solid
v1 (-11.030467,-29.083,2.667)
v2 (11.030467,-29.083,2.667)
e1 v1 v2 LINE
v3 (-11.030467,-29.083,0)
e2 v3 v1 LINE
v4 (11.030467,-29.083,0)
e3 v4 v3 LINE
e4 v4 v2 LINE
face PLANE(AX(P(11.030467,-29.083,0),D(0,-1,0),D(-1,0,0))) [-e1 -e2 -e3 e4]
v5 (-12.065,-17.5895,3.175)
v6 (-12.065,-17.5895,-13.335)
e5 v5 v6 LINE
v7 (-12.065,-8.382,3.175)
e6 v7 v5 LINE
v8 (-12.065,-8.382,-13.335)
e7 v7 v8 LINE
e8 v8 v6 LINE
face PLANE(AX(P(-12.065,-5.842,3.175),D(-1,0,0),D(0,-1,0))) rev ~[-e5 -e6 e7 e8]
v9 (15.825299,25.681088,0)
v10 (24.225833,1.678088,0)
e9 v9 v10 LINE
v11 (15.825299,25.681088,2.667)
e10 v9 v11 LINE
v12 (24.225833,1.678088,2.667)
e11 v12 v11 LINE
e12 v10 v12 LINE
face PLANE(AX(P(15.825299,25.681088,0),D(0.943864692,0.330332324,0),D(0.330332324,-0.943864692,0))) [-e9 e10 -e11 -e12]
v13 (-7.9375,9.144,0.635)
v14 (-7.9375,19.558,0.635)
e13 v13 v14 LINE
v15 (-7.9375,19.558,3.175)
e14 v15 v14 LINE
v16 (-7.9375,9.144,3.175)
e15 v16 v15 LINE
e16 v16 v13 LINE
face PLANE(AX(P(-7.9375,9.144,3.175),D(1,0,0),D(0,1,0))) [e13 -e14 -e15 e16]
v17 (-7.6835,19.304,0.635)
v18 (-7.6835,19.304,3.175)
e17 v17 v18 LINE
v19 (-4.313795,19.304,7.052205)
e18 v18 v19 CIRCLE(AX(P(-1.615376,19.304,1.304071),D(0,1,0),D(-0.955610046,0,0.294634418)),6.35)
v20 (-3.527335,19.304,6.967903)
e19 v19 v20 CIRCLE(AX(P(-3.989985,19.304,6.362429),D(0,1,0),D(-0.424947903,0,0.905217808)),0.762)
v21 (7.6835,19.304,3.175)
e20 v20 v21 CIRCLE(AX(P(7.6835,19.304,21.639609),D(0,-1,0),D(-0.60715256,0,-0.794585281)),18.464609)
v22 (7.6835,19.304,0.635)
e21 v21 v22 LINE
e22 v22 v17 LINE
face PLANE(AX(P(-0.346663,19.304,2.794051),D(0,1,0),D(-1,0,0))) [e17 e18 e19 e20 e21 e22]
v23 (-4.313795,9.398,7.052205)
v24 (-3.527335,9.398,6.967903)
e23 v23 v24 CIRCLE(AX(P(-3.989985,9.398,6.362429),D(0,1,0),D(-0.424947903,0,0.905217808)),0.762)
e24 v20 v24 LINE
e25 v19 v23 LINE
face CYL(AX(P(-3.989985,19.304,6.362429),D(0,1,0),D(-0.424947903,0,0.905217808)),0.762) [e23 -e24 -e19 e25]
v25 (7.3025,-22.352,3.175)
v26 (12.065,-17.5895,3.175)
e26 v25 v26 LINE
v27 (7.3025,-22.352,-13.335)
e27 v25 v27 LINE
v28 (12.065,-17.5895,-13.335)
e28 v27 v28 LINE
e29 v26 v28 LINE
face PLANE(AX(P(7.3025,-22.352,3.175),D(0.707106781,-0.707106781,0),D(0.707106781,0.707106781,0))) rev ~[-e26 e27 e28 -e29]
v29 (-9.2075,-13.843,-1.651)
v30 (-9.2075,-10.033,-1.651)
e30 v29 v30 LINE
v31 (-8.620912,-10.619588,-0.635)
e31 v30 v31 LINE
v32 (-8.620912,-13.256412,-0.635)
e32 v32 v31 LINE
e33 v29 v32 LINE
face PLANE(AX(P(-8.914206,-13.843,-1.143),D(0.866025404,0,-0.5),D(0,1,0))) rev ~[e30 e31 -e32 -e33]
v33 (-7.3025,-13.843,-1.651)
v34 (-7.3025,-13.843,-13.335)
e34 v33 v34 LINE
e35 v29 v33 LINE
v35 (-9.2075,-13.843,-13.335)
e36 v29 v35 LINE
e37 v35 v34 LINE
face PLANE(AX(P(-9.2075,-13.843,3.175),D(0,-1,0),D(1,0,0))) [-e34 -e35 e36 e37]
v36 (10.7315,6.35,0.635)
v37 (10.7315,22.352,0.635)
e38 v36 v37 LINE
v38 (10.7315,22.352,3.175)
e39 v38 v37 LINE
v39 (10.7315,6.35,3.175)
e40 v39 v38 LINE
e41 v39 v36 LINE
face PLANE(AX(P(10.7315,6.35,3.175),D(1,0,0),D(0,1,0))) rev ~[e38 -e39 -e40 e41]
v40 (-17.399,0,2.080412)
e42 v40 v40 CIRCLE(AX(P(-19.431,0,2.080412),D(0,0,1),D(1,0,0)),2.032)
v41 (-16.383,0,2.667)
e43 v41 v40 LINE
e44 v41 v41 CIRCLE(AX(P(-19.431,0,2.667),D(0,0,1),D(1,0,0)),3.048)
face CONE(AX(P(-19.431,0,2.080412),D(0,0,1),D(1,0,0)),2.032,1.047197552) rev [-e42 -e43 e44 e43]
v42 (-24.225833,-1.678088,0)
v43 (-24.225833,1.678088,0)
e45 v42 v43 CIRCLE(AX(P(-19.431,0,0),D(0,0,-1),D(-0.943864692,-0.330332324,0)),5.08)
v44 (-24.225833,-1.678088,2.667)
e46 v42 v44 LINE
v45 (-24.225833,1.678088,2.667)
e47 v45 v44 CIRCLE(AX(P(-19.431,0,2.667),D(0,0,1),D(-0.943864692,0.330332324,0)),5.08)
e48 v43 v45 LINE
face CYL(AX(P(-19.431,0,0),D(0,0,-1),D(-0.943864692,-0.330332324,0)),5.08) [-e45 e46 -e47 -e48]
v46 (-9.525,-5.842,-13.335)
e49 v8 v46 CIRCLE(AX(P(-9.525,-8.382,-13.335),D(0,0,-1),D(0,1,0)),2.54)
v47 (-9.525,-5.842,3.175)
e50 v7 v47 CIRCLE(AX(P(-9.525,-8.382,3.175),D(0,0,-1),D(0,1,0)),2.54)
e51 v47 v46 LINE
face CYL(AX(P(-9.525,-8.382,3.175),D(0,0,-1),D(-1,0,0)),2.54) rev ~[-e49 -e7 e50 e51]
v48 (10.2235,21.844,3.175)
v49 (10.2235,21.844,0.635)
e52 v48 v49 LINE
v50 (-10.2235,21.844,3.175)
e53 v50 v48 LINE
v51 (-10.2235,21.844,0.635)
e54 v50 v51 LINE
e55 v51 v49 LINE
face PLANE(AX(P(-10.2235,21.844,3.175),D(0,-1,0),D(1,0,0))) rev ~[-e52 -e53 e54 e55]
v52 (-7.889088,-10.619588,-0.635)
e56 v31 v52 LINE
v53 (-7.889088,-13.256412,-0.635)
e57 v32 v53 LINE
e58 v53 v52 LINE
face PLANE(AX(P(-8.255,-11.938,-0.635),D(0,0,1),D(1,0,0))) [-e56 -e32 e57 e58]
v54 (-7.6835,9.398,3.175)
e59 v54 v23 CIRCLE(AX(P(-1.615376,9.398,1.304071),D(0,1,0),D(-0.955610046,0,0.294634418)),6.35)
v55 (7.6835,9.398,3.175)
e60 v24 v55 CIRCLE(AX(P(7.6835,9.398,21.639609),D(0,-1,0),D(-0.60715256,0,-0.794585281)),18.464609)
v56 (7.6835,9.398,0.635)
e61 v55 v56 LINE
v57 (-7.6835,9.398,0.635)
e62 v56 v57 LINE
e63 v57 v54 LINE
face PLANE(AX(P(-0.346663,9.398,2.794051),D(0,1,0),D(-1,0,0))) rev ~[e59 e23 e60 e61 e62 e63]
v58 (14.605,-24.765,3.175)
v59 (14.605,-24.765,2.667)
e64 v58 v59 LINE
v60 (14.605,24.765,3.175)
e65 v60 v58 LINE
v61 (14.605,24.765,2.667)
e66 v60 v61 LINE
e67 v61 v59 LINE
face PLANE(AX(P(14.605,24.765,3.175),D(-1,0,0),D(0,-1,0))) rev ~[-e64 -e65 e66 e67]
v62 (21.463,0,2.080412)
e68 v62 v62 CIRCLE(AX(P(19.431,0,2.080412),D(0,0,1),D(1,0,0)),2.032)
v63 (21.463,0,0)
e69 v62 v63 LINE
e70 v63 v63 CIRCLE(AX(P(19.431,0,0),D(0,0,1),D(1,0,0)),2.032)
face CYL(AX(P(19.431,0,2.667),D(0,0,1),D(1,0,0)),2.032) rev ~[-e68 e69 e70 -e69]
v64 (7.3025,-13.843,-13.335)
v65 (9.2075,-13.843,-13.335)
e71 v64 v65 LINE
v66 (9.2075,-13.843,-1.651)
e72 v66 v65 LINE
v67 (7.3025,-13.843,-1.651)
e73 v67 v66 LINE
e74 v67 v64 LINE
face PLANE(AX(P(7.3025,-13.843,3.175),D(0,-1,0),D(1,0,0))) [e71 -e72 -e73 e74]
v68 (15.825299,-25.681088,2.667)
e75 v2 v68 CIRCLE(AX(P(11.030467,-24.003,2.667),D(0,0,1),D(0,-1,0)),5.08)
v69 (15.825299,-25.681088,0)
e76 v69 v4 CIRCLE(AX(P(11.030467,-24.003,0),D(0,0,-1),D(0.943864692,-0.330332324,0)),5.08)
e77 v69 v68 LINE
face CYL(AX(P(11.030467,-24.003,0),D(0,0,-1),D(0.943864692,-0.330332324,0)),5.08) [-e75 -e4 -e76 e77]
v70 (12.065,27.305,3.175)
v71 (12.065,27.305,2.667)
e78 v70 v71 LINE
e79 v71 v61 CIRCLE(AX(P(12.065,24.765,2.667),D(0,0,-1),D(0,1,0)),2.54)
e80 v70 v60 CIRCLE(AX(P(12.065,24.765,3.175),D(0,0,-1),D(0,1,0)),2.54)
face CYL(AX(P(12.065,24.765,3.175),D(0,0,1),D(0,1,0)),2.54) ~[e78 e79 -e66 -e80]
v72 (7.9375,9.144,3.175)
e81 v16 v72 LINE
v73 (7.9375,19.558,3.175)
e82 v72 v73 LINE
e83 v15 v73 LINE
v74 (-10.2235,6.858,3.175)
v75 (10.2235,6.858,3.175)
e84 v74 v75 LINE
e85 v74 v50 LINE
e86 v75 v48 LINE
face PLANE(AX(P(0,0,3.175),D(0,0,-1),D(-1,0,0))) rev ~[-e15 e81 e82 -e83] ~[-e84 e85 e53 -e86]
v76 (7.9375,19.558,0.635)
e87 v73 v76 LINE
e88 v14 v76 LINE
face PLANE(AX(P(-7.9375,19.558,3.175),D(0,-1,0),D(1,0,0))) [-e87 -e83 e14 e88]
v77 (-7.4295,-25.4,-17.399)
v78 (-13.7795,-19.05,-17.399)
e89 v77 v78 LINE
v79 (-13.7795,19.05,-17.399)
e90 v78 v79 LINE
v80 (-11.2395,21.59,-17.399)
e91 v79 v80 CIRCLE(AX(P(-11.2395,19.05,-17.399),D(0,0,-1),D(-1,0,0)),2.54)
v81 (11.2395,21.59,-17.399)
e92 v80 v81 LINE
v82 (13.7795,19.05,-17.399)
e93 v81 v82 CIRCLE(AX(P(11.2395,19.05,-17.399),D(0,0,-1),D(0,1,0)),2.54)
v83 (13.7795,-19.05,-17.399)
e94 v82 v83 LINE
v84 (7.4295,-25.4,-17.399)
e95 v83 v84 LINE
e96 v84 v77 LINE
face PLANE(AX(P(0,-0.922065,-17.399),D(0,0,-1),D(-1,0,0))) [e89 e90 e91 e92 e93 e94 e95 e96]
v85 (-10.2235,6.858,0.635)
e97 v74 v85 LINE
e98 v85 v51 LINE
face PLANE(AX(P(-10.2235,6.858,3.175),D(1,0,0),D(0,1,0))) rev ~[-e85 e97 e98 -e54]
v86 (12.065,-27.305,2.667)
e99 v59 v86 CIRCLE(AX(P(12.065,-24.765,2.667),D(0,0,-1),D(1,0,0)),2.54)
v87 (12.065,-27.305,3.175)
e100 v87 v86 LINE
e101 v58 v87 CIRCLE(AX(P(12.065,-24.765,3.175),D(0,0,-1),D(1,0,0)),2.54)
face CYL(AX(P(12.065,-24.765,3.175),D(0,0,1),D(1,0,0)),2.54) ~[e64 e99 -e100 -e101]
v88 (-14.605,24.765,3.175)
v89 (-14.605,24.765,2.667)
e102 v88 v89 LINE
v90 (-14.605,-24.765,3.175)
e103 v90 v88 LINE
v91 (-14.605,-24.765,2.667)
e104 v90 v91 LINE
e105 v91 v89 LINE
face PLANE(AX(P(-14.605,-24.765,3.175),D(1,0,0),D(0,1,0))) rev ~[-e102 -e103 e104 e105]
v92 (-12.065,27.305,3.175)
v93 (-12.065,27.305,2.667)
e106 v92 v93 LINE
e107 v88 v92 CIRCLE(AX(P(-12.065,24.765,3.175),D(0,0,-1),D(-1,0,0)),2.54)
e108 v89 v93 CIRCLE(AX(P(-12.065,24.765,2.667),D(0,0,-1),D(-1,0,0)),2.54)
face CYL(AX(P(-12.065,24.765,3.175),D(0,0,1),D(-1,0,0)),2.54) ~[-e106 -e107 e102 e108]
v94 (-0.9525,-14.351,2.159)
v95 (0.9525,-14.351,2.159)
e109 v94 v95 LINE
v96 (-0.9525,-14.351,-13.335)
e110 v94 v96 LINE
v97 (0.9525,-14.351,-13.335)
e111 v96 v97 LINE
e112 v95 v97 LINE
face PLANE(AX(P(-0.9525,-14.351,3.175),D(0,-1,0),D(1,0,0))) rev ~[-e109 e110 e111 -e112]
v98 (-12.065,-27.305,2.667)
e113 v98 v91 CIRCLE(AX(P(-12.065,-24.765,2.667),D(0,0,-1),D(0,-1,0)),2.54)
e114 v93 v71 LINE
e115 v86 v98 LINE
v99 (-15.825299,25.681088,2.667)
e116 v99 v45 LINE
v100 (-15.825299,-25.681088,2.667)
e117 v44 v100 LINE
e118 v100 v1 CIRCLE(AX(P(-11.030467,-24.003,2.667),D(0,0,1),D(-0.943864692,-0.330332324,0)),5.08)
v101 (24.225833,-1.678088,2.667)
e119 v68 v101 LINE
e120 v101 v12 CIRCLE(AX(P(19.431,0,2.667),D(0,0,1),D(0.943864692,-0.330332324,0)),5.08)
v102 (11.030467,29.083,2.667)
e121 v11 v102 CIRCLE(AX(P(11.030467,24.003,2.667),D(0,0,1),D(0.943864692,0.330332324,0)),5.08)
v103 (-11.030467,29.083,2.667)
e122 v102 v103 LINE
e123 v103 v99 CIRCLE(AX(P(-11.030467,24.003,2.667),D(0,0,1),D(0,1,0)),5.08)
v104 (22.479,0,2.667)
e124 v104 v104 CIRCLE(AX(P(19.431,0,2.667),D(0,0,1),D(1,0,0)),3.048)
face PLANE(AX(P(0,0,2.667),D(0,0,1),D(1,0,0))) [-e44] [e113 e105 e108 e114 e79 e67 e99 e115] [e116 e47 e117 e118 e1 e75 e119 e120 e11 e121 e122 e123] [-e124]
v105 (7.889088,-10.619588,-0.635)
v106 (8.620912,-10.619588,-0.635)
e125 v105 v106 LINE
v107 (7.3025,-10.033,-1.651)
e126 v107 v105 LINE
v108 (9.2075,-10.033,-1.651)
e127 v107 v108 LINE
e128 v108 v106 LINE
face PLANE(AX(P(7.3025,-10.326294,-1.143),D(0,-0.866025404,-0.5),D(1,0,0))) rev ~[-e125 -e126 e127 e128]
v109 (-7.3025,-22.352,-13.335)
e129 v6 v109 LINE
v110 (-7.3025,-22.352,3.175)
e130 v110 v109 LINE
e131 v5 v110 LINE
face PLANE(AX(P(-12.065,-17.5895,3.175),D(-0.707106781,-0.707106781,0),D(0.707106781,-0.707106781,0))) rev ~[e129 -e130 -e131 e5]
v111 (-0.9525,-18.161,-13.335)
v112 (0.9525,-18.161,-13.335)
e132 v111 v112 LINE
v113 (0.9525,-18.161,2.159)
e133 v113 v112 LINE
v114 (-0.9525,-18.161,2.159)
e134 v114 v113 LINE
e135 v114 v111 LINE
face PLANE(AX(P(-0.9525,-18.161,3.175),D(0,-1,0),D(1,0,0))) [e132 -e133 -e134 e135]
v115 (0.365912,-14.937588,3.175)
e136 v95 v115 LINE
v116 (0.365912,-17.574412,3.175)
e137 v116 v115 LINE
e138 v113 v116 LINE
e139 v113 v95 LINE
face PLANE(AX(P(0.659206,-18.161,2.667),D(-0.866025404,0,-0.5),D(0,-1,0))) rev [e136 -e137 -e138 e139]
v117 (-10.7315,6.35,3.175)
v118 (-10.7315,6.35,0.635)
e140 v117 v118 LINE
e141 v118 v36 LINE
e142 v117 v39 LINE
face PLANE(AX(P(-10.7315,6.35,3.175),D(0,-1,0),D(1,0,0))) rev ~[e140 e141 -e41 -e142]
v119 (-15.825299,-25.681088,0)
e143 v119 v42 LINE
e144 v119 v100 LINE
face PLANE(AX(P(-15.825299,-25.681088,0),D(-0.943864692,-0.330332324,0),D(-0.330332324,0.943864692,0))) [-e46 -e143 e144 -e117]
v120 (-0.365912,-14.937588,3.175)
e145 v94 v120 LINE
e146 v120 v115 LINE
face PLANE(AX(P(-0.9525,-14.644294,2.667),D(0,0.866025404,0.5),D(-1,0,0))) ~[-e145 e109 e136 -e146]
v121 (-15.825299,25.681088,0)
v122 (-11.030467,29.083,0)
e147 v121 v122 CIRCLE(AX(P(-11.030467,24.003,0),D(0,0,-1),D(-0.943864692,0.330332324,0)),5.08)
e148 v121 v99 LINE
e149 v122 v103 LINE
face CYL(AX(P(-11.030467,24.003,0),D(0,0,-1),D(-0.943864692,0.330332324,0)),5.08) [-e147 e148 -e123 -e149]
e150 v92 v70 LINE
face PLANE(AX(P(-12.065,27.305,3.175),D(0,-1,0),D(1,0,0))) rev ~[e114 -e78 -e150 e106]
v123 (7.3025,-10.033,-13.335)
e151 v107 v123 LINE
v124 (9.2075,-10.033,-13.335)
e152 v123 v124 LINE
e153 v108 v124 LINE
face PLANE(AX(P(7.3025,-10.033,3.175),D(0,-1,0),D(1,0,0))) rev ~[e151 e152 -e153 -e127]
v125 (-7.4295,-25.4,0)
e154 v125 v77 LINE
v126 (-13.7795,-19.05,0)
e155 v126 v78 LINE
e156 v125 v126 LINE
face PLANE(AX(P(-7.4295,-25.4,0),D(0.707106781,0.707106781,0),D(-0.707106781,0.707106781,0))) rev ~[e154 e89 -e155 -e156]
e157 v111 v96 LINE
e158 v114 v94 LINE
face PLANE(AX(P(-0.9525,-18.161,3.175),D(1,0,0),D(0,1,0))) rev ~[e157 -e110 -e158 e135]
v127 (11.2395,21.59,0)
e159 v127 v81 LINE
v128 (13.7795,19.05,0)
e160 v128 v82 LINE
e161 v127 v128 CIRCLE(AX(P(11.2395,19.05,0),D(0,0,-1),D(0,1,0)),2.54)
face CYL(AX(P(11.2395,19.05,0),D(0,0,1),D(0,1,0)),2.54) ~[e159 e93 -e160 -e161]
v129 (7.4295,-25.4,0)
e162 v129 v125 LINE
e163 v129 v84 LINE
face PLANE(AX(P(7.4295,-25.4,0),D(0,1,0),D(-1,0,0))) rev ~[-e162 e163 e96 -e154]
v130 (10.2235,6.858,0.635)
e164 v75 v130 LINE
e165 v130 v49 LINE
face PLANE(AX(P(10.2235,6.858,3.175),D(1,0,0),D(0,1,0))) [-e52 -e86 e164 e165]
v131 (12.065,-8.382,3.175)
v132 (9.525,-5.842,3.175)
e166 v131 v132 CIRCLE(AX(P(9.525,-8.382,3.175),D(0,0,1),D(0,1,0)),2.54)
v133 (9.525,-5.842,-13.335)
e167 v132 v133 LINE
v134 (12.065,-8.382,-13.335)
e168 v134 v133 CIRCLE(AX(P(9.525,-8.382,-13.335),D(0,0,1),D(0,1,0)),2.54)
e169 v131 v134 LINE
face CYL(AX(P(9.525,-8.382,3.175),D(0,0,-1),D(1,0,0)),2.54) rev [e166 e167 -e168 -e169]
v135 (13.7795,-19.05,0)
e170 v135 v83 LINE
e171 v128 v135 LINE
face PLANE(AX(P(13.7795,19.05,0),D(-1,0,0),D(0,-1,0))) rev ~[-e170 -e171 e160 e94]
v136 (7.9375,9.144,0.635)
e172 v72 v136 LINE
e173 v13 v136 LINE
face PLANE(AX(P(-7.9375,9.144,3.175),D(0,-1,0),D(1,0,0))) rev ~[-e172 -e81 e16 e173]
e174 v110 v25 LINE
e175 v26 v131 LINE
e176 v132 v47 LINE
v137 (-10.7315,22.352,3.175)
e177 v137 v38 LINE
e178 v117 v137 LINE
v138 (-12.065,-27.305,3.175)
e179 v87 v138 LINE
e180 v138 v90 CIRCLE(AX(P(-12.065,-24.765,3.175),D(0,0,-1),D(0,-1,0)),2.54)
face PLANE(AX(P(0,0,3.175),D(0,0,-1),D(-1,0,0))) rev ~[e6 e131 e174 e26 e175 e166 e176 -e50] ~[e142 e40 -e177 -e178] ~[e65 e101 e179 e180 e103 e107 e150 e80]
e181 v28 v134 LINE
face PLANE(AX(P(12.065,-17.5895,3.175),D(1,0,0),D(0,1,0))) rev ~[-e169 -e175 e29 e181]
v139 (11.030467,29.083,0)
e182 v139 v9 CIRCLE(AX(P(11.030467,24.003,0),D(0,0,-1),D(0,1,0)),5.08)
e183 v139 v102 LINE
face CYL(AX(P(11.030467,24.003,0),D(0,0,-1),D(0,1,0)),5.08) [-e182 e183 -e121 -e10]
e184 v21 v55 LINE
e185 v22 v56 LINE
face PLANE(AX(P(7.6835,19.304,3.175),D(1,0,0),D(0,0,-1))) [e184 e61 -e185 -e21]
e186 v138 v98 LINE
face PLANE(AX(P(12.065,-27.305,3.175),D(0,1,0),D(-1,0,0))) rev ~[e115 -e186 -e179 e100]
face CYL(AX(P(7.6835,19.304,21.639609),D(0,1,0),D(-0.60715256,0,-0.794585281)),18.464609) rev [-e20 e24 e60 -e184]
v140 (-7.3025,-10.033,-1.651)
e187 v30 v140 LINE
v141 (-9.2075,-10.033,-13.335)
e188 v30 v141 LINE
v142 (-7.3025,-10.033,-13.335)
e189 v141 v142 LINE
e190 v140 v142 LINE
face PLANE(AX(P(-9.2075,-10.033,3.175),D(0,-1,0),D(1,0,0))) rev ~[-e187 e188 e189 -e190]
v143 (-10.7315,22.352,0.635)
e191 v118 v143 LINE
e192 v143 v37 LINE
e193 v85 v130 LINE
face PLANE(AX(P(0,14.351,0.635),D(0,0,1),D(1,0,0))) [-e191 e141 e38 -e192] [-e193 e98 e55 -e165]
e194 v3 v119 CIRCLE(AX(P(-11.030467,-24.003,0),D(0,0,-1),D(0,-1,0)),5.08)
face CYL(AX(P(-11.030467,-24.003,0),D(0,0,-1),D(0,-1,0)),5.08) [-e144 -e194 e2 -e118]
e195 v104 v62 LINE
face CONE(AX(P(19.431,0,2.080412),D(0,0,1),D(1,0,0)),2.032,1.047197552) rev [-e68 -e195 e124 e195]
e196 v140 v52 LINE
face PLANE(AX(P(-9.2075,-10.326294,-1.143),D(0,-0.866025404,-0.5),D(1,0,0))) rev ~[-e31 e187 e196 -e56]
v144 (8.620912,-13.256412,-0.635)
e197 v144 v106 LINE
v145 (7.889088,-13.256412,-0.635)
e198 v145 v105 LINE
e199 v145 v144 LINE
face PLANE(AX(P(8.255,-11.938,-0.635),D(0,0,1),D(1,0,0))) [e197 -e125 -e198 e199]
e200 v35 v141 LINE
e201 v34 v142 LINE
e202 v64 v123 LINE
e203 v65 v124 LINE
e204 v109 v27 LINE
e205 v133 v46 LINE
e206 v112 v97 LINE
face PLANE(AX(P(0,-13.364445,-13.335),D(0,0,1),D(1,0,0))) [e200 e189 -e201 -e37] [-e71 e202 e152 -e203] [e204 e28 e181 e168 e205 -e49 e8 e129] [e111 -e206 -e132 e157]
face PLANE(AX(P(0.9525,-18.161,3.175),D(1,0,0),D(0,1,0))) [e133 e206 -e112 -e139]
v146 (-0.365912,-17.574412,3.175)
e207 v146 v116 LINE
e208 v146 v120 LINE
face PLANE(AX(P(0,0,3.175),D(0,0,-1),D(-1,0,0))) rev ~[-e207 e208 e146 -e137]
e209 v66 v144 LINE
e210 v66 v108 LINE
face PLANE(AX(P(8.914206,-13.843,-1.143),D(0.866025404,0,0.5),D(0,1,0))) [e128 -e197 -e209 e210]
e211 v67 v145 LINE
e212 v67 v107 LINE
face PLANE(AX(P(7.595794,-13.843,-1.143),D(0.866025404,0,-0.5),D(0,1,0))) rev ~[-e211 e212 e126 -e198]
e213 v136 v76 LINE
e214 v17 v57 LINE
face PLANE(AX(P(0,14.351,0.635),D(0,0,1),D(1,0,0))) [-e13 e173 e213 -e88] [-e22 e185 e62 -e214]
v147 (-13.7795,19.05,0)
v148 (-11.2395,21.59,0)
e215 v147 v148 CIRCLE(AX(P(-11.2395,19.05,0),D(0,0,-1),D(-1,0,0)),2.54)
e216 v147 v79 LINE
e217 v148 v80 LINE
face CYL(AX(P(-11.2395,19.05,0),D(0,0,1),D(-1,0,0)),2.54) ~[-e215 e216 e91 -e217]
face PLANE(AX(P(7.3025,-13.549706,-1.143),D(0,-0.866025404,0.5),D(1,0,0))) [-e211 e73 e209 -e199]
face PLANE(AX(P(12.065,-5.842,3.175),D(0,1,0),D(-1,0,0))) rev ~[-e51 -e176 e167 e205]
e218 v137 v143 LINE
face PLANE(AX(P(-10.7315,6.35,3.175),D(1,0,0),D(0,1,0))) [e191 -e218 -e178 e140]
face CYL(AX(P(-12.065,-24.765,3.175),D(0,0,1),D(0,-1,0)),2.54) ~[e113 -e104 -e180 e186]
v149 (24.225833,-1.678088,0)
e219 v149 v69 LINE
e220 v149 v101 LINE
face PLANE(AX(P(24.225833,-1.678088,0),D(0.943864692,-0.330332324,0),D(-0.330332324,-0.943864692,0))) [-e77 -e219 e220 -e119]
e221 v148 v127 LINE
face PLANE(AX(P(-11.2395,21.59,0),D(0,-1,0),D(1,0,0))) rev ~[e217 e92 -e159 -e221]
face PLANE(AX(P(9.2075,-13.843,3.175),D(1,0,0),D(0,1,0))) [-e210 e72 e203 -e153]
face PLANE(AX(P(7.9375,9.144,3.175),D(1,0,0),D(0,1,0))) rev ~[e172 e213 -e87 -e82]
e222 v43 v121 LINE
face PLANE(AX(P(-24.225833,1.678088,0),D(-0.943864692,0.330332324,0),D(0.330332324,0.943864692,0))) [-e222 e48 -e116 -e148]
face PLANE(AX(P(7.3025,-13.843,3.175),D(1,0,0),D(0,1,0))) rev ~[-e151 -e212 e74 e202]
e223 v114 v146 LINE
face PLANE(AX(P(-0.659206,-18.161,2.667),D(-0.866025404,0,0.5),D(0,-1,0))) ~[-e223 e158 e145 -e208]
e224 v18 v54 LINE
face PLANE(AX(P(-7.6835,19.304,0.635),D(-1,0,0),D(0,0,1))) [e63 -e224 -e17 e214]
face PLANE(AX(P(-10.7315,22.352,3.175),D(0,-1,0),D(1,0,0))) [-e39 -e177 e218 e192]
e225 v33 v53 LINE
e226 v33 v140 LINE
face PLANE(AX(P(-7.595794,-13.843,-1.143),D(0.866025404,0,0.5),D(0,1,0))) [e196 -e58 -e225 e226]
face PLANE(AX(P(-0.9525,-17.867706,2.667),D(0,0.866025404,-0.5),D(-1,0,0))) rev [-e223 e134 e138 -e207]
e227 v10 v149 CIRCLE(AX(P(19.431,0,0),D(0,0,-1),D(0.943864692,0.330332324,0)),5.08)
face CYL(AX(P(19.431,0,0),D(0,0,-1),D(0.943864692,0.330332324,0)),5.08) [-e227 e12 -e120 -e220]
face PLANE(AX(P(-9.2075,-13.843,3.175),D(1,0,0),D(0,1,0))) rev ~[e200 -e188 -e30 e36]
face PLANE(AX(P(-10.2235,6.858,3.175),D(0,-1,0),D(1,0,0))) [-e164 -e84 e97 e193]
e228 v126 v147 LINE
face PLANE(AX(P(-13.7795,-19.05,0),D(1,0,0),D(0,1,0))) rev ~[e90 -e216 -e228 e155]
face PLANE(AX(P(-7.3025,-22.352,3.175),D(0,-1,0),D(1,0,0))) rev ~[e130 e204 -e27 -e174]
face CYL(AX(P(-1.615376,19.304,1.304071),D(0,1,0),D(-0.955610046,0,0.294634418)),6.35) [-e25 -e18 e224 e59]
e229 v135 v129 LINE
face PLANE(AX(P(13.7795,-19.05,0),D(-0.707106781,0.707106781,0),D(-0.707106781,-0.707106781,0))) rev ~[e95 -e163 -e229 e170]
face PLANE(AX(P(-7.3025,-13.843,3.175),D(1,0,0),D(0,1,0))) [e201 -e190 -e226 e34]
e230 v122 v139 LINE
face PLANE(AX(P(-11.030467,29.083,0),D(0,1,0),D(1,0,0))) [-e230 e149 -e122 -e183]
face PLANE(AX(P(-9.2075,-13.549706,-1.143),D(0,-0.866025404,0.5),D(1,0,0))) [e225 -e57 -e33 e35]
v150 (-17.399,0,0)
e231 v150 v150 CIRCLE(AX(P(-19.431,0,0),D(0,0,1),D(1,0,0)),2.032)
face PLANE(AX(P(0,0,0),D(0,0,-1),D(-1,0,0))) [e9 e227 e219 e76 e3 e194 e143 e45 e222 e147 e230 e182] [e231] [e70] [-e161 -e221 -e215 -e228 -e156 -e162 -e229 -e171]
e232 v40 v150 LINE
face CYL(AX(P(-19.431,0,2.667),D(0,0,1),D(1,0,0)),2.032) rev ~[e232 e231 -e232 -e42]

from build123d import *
from OCP.BRepFilletAPI import BRepFilletAPI_MakeChamfer

# Parameters (mm, degrees)
BOSS_EXTRUDE1_DEPTH = 3.175
CUT_EXTRUDE1_DEPTH  = 0.508
SKETCH3_W           = 21.463
SKETCH3_H           = 16.002
SKETCH3_W_2         = 20.447
SKETCH3_H_2         = 14.986
SKETCH3_W_3         = 15.875
SKETCH3_H_3         = 10.414
CUT_EXTRUDE2_DEPTH  = 2.54
BOSS_EXTRUDE3_DEPTH = 9.906
BOSS_EXTRUDE4_DEPTH = 17.399
SKETCH7_W           = 1.905
SKETCH7_H           = 3.81
CUT_EXTRUDE3_DEPTH  = 16.51
SKETCH8_W           = 1.905
SKETCH8_H           = 3.81
CUT_EXTRUDE4_DEPTH  = 3.81
CHAMFER1_SIZE       = 1.016
CHAMFER1_SIZE2      = 0.586587873
FILLET1_R           = 2.54
SKETCH9_R           = 2.032
CUT_EXTRUDE5_DEPTH  = 44.002957642
CHAMFER2_SIZE       = 1.016
CHAMFER2_SIZE2      = 0.586587873


with BuildPart() as part:
    # Sketch1 → Boss-Extrude1 (new body)
    with BuildSketch(Plane.XY):
        with BuildLine():
            Line((-11.03046671, 29.083), (11.03046671, 29.083))
            ThreePointArc((11.03046671, 29.083), (13.97, 28.146132153), (15.825299343, 25.681088204))
            Line((15.825299343, 25.681088204), (24.225832633, 1.678088204))
            ThreePointArc((24.225832633, 1.678088204), (24.511, 0), (24.225832633, -1.678088204))
            Line((24.225832633, -1.678088204), (15.825299343, -25.681088204))
            ThreePointArc((15.825299343, -25.681088204), (13.97, -28.146132153), (11.03046671, -29.083))
            Line((11.03046671, -29.083), (-11.03046671, -29.083))
            ThreePointArc((-11.03046671, -29.083), (-13.97, -28.146132153), (-15.825299343, -25.681088204))
            Line((-15.825299343, -25.681088204), (-24.225832633, -1.678088204))
            ThreePointArc((-24.225832633, -1.678088204), (-24.511, 0), (-24.225832633, 1.678088204))
            Line((-24.225832633, 1.678088204), (-15.825299343, 25.681088204))
            ThreePointArc((-15.825299343, 25.681088204), (-13.97, 28.146132153), (-11.03046671, 29.083))
        make_face()
    extrude(amount=BOSS_EXTRUDE1_DEPTH)

    # Sketch2 → Cut-Extrude1 (cut)
    with BuildSketch(Plane.XY.offset(3.175)):
        with BuildLine():
            Line((-11.03046671, -29.083), (11.03046671, -29.083))
            ThreePointArc((11.03046671, -29.083), (13.97, -28.146132153), (15.825299343, -25.681088204))
            Line((15.825299343, -25.681088204), (24.225832633, -1.678088204))
            ThreePointArc((24.225832633, -1.678088204), (24.511, 0), (24.225832633, 1.678088204))
            Line((24.225832633, 1.678088204), (15.825299343, 25.681088204))
            ThreePointArc((15.825299343, 25.681088204), (13.97, 28.146132153), (11.03046671, 29.083))
            Line((11.03046671, 29.083), (-11.03046671, 29.083))
            ThreePointArc((-11.03046671, 29.083), (-13.97, 28.146132153), (-15.825299343, 25.681088204))
            Line((-15.825299343, 25.681088204), (-24.225832633, 1.678088204))
            ThreePointArc((-24.225832633, 1.678088204), (-24.511, 0), (-24.225832633, -1.678088204))
            Line((-24.225832633, -1.678088204), (-15.825299343, -25.681088204))
            ThreePointArc((-15.825299343, -25.681088204), (-13.97, -28.146132153), (-11.03046671, -29.083))
        make_face()
        with BuildLine():
            Line((-12.065, 27.305), (12.065, 27.305))
            ThreePointArc((12.065, 27.305), (13.861051224, 26.561051224), (14.605, 24.765))
            Line((14.605, 24.765), (14.605, -24.765))
            ThreePointArc((14.605, -24.765), (13.861051224, -26.561051224), (12.065, -27.305))
            Line((12.065, -27.305), (-12.065, -27.305))
            ThreePointArc((-12.065, -27.305), (-13.861051224, -26.561051224), (-14.605, -24.765))
            Line((-14.605, -24.765), (-14.605, 24.765))
            ThreePointArc((-14.605, 24.765), (-13.861051224, 26.561051224), (-12.065, 27.305))
        make_face(mode=Mode.SUBTRACT)
    extrude(amount=-CUT_EXTRUDE1_DEPTH, mode=Mode.SUBTRACT)

    # Sketch3 → Cut-Extrude2 (cut)
    with BuildSketch(Plane.XY.offset(3.175)):
        with Locations((0, 14.351)):
            Rectangle(SKETCH3_W, SKETCH3_H)
        with Locations((0, 14.351)):
            Rectangle(SKETCH3_W_2, SKETCH3_H_2, mode=Mode.SUBTRACT)
        with Locations((0, 14.351)):
            Rectangle(SKETCH3_W_3, SKETCH3_H_3)
    extrude(amount=-CUT_EXTRUDE2_DEPTH, mode=Mode.SUBTRACT)

    # Sketch5 → Boss-Extrude3 (add)
    with BuildSketch(Plane.XZ.offset(-19.304)):
        with BuildLine():
            Line((-7.6835, 0.635), (-7.6835, 3.175))
            ThreePointArc((-7.6835, 3.175), (-6.408209158, 5.469554889), (-4.313795397, 7.052204524))
            ThreePointArc((-4.313795397, 7.052204524), (-3.908770324, 7.120088215), (-3.527334844, 6.967902539))
            ThreePointArc((-3.527334844, 6.967902539), (1.765964035, 4.148909918), (7.6835, 3.175))
            Line((7.6835, 3.175), (7.6835, 0.635))
            Line((7.6835, 0.635), (-7.6835, 0.635))
        make_face()
    extrude(amount=BOSS_EXTRUDE3_DEPTH)

    # Sketch6 → Boss-Extrude4 (add)
    with BuildSketch(Plane(origin=(0, 0, 0), x_dir=(-1, 0, 0), z_dir=(0, 0, -1))):
        with BuildLine():
            Line((-13.7795, -19.05), (-7.4295, -25.4))
            Line((-7.4295, -25.4), (7.4295, -25.4))
            Line((7.4295, -25.4), (13.7795, -19.05))
            Line((13.7795, -19.05), (13.7795, 19.05))
            ThreePointArc((13.7795, 19.05), (13.035551224, 20.846051224), (11.2395, 21.59))
            Line((11.2395, 21.59), (-11.2395, 21.59))
            ThreePointArc((-11.2395, 21.59), (-13.035551224, 20.846051224), (-13.7795, 19.05))
            Line((-13.7795, 19.05), (-13.7795, -19.05))
        make_face()
    extrude(amount=BOSS_EXTRUDE4_DEPTH)

    # Sketch7 → Cut-Extrude3 (cut)
    with BuildSketch(Plane.XY.offset(3.175)):
        Polygon((-7.3025, -22.352), (7.3025, -22.352), (12.065, -17.5895), (12.065, -5.842), (-12.065, -5.842), (-12.065, -17.5895), align=None)
        with Locations((-8.255, -11.938)):
            Rectangle(SKETCH7_W, SKETCH7_H, mode=Mode.SUBTRACT)
        with Locations((0, -16.256)):
            Rectangle(SKETCH7_W, SKETCH7_H, mode=Mode.SUBTRACT)
        with Locations((8.255, -11.938)):
            Rectangle(SKETCH7_W, SKETCH7_H, mode=Mode.SUBTRACT)
    extrude(amount=-CUT_EXTRUDE3_DEPTH, mode=Mode.SUBTRACT)

    # Sketch8 → Cut-Extrude4 (cut)
    with BuildSketch(Plane.XY.offset(3.175)):
        with Locations((8.255, -11.938)):
            Rectangle(SKETCH8_W, SKETCH8_H)
        with Locations((-8.255, -11.938)):
            Rectangle(SKETCH8_W, SKETCH8_H)
    extrude(amount=-CUT_EXTRUDE4_DEPTH, mode=Mode.SUBTRACT)

    # Chamfer1: one chamfer whose edges measure the first distance from different faces: ONE call of the kernel's chamfer builder (chamfer() names one face for all edges)
    chamfer1_edges_1 = [part.edges().sort_by_distance(p)[0] for p in [
        (-0.9525, -16.256, 3.175),
    ]]
    chamfer1_side_1 = [part.faces().sort_by_distance(p)[0] for p in [
        (-0.9525, -16.256, -5.08),
    ]]
    chamfer1_edges_2 = [part.edges().sort_by_distance(p)[0] for p in [
        (0, -14.351, 3.175),
    ]]
    chamfer1_side_2 = [part.faces().sort_by_distance(p)[0] for p in [
        (0, -14.351, -5.08),
    ]]
    chamfer1_edges_3 = [part.edges().sort_by_distance(p)[0] for p in [
        (0.9525, -16.256, 3.175),
    ]]
    chamfer1_side_3 = [part.faces().sort_by_distance(p)[0] for p in [
        (0.9525, -16.256, -5.08),
    ]]
    chamfer1_edges_4 = [part.edges().sort_by_distance(p)[0] for p in [
        (0, -18.161, 3.175),
    ]]
    chamfer1_side_4 = [part.faces().sort_by_distance(p)[0] for p in [
        (0, -18.161, -5.08),
    ]]
    chamfer1_edges_5 = [part.edges().sort_by_distance(p)[0] for p in [
        (8.255, -10.033, -0.635),
    ]]
    chamfer1_side_5 = [part.faces().sort_by_distance(p)[0] for p in [
        (8.255, -10.033, -6.985),
    ]]
    chamfer1_edges_6 = [part.edges().sort_by_distance(p)[0] for p in [
        (9.2075, -11.938, -0.635),
    ]]
    chamfer1_side_6 = [part.faces().sort_by_distance(p)[0] for p in [
        (9.2075, -11.938, -6.985),
    ]]
    chamfer1_edges_7 = [part.edges().sort_by_distance(p)[0] for p in [
        (8.255, -13.843, -0.635),
    ]]
    chamfer1_side_7 = [part.faces().sort_by_distance(p)[0] for p in [
        (8.255, -13.843, -6.985),
    ]]
    chamfer1_edges_8 = [part.edges().sort_by_distance(p)[0] for p in [
        (7.3025, -11.938, -0.635),
    ]]
    chamfer1_side_8 = [part.faces().sort_by_distance(p)[0] for p in [
        (7.3025, -11.938, -6.985),
    ]]
    chamfer1_edges_9 = [part.edges().sort_by_distance(p)[0] for p in [
        (-8.255, -10.033, -0.635),
    ]]
    chamfer1_side_9 = [part.faces().sort_by_distance(p)[0] for p in [
        (-8.255, -10.033, -6.985),
    ]]
    chamfer1_edges_10 = [part.edges().sort_by_distance(p)[0] for p in [
        (-7.3025, -11.938, -0.635),
    ]]
    chamfer1_side_10 = [part.faces().sort_by_distance(p)[0] for p in [
        (-7.3025, -11.938, -6.985),
    ]]
    chamfer1_edges_11 = [part.edges().sort_by_distance(p)[0] for p in [
        (-8.255, -13.843, -0.635),
    ]]
    chamfer1_side_11 = [part.faces().sort_by_distance(p)[0] for p in [
        (-8.255, -13.843, -6.985),
    ]]
    chamfer1_edges_12 = [part.edges().sort_by_distance(p)[0] for p in [
        (-9.2075, -11.938, -0.635),
    ]]
    chamfer1_side_12 = [part.faces().sort_by_distance(p)[0] for p in [
        (-9.2075, -11.938, -6.985),
    ]]
    chamfer1 = BRepFilletAPI_MakeChamfer(part.part.solid().wrapped)
    for e in chamfer1_edges_1:
        chamfer1.Add(CHAMFER1_SIZE, CHAMFER1_SIZE2, e.wrapped, chamfer1_side_1[0].wrapped)  # the first distance lies on this face
    for e in chamfer1_edges_2:
        chamfer1.Add(CHAMFER1_SIZE, CHAMFER1_SIZE2, e.wrapped, chamfer1_side_2[0].wrapped)  # the first distance lies on this face
    for e in chamfer1_edges_3:
        chamfer1.Add(CHAMFER1_SIZE, CHAMFER1_SIZE2, e.wrapped, chamfer1_side_3[0].wrapped)  # the first distance lies on this face
    for e in chamfer1_edges_4:
        chamfer1.Add(CHAMFER1_SIZE, CHAMFER1_SIZE2, e.wrapped, chamfer1_side_4[0].wrapped)  # the first distance lies on this face
    for e in chamfer1_edges_5:
        chamfer1.Add(CHAMFER1_SIZE, CHAMFER1_SIZE2, e.wrapped, chamfer1_side_5[0].wrapped)  # the first distance lies on this face
    for e in chamfer1_edges_6:
        chamfer1.Add(CHAMFER1_SIZE, CHAMFER1_SIZE2, e.wrapped, chamfer1_side_6[0].wrapped)  # the first distance lies on this face
    for e in chamfer1_edges_7:
        chamfer1.Add(CHAMFER1_SIZE, CHAMFER1_SIZE2, e.wrapped, chamfer1_side_7[0].wrapped)  # the first distance lies on this face
    for e in chamfer1_edges_8:
        chamfer1.Add(CHAMFER1_SIZE, CHAMFER1_SIZE2, e.wrapped, chamfer1_side_8[0].wrapped)  # the first distance lies on this face
    for e in chamfer1_edges_9:
        chamfer1.Add(CHAMFER1_SIZE, CHAMFER1_SIZE2, e.wrapped, chamfer1_side_9[0].wrapped)  # the first distance lies on this face
    for e in chamfer1_edges_10:
        chamfer1.Add(CHAMFER1_SIZE, CHAMFER1_SIZE2, e.wrapped, chamfer1_side_10[0].wrapped)  # the first distance lies on this face
    for e in chamfer1_edges_11:
        chamfer1.Add(CHAMFER1_SIZE, CHAMFER1_SIZE2, e.wrapped, chamfer1_side_11[0].wrapped)  # the first distance lies on this face
    for e in chamfer1_edges_12:
        chamfer1.Add(CHAMFER1_SIZE, CHAMFER1_SIZE2, e.wrapped, chamfer1_side_12[0].wrapped)  # the first distance lies on this face
    add(Compound.cast(chamfer1.Shape()), mode=Mode.REPLACE)

    # Fillet1
    fillet1_edges = [part.edges().sort_by_distance(p)[0] for p in [
        (-12.065, -5.842, -5.08),
        (12.065, -5.842, -5.08),
    ]]
    fillet(fillet1_edges, radius=FILLET1_R)

    # Sketch9 → Cut-Extrude5 (cut, through all)
    with BuildSketch(Plane.XY.offset(2.667)):
        with Locations((-19.431, 0)):
            Circle(SKETCH9_R)
        with Locations((19.431, 0)):
            Circle(SKETCH9_R)
    extrude(amount=-CUT_EXTRUDE5_DEPTH, mode=Mode.SUBTRACT)

    # Chamfer2
    chamfer2_edges = [part.edges().sort_by_distance(p)[0] for p in [
        (-21.463, 0, 2.667),
        (17.399, 0, 2.667),
    ]]
    chamfer2_side = [part.faces().sort_by_distance(p)[0] for p in [
        (-23.750313465, 0, 2.667),
    ]]
    chamfer(chamfer2_edges, length=CHAMFER2_SIZE, length2=CHAMFER2_SIZE2, reference=chamfer2_side[0])


solid = part.part
